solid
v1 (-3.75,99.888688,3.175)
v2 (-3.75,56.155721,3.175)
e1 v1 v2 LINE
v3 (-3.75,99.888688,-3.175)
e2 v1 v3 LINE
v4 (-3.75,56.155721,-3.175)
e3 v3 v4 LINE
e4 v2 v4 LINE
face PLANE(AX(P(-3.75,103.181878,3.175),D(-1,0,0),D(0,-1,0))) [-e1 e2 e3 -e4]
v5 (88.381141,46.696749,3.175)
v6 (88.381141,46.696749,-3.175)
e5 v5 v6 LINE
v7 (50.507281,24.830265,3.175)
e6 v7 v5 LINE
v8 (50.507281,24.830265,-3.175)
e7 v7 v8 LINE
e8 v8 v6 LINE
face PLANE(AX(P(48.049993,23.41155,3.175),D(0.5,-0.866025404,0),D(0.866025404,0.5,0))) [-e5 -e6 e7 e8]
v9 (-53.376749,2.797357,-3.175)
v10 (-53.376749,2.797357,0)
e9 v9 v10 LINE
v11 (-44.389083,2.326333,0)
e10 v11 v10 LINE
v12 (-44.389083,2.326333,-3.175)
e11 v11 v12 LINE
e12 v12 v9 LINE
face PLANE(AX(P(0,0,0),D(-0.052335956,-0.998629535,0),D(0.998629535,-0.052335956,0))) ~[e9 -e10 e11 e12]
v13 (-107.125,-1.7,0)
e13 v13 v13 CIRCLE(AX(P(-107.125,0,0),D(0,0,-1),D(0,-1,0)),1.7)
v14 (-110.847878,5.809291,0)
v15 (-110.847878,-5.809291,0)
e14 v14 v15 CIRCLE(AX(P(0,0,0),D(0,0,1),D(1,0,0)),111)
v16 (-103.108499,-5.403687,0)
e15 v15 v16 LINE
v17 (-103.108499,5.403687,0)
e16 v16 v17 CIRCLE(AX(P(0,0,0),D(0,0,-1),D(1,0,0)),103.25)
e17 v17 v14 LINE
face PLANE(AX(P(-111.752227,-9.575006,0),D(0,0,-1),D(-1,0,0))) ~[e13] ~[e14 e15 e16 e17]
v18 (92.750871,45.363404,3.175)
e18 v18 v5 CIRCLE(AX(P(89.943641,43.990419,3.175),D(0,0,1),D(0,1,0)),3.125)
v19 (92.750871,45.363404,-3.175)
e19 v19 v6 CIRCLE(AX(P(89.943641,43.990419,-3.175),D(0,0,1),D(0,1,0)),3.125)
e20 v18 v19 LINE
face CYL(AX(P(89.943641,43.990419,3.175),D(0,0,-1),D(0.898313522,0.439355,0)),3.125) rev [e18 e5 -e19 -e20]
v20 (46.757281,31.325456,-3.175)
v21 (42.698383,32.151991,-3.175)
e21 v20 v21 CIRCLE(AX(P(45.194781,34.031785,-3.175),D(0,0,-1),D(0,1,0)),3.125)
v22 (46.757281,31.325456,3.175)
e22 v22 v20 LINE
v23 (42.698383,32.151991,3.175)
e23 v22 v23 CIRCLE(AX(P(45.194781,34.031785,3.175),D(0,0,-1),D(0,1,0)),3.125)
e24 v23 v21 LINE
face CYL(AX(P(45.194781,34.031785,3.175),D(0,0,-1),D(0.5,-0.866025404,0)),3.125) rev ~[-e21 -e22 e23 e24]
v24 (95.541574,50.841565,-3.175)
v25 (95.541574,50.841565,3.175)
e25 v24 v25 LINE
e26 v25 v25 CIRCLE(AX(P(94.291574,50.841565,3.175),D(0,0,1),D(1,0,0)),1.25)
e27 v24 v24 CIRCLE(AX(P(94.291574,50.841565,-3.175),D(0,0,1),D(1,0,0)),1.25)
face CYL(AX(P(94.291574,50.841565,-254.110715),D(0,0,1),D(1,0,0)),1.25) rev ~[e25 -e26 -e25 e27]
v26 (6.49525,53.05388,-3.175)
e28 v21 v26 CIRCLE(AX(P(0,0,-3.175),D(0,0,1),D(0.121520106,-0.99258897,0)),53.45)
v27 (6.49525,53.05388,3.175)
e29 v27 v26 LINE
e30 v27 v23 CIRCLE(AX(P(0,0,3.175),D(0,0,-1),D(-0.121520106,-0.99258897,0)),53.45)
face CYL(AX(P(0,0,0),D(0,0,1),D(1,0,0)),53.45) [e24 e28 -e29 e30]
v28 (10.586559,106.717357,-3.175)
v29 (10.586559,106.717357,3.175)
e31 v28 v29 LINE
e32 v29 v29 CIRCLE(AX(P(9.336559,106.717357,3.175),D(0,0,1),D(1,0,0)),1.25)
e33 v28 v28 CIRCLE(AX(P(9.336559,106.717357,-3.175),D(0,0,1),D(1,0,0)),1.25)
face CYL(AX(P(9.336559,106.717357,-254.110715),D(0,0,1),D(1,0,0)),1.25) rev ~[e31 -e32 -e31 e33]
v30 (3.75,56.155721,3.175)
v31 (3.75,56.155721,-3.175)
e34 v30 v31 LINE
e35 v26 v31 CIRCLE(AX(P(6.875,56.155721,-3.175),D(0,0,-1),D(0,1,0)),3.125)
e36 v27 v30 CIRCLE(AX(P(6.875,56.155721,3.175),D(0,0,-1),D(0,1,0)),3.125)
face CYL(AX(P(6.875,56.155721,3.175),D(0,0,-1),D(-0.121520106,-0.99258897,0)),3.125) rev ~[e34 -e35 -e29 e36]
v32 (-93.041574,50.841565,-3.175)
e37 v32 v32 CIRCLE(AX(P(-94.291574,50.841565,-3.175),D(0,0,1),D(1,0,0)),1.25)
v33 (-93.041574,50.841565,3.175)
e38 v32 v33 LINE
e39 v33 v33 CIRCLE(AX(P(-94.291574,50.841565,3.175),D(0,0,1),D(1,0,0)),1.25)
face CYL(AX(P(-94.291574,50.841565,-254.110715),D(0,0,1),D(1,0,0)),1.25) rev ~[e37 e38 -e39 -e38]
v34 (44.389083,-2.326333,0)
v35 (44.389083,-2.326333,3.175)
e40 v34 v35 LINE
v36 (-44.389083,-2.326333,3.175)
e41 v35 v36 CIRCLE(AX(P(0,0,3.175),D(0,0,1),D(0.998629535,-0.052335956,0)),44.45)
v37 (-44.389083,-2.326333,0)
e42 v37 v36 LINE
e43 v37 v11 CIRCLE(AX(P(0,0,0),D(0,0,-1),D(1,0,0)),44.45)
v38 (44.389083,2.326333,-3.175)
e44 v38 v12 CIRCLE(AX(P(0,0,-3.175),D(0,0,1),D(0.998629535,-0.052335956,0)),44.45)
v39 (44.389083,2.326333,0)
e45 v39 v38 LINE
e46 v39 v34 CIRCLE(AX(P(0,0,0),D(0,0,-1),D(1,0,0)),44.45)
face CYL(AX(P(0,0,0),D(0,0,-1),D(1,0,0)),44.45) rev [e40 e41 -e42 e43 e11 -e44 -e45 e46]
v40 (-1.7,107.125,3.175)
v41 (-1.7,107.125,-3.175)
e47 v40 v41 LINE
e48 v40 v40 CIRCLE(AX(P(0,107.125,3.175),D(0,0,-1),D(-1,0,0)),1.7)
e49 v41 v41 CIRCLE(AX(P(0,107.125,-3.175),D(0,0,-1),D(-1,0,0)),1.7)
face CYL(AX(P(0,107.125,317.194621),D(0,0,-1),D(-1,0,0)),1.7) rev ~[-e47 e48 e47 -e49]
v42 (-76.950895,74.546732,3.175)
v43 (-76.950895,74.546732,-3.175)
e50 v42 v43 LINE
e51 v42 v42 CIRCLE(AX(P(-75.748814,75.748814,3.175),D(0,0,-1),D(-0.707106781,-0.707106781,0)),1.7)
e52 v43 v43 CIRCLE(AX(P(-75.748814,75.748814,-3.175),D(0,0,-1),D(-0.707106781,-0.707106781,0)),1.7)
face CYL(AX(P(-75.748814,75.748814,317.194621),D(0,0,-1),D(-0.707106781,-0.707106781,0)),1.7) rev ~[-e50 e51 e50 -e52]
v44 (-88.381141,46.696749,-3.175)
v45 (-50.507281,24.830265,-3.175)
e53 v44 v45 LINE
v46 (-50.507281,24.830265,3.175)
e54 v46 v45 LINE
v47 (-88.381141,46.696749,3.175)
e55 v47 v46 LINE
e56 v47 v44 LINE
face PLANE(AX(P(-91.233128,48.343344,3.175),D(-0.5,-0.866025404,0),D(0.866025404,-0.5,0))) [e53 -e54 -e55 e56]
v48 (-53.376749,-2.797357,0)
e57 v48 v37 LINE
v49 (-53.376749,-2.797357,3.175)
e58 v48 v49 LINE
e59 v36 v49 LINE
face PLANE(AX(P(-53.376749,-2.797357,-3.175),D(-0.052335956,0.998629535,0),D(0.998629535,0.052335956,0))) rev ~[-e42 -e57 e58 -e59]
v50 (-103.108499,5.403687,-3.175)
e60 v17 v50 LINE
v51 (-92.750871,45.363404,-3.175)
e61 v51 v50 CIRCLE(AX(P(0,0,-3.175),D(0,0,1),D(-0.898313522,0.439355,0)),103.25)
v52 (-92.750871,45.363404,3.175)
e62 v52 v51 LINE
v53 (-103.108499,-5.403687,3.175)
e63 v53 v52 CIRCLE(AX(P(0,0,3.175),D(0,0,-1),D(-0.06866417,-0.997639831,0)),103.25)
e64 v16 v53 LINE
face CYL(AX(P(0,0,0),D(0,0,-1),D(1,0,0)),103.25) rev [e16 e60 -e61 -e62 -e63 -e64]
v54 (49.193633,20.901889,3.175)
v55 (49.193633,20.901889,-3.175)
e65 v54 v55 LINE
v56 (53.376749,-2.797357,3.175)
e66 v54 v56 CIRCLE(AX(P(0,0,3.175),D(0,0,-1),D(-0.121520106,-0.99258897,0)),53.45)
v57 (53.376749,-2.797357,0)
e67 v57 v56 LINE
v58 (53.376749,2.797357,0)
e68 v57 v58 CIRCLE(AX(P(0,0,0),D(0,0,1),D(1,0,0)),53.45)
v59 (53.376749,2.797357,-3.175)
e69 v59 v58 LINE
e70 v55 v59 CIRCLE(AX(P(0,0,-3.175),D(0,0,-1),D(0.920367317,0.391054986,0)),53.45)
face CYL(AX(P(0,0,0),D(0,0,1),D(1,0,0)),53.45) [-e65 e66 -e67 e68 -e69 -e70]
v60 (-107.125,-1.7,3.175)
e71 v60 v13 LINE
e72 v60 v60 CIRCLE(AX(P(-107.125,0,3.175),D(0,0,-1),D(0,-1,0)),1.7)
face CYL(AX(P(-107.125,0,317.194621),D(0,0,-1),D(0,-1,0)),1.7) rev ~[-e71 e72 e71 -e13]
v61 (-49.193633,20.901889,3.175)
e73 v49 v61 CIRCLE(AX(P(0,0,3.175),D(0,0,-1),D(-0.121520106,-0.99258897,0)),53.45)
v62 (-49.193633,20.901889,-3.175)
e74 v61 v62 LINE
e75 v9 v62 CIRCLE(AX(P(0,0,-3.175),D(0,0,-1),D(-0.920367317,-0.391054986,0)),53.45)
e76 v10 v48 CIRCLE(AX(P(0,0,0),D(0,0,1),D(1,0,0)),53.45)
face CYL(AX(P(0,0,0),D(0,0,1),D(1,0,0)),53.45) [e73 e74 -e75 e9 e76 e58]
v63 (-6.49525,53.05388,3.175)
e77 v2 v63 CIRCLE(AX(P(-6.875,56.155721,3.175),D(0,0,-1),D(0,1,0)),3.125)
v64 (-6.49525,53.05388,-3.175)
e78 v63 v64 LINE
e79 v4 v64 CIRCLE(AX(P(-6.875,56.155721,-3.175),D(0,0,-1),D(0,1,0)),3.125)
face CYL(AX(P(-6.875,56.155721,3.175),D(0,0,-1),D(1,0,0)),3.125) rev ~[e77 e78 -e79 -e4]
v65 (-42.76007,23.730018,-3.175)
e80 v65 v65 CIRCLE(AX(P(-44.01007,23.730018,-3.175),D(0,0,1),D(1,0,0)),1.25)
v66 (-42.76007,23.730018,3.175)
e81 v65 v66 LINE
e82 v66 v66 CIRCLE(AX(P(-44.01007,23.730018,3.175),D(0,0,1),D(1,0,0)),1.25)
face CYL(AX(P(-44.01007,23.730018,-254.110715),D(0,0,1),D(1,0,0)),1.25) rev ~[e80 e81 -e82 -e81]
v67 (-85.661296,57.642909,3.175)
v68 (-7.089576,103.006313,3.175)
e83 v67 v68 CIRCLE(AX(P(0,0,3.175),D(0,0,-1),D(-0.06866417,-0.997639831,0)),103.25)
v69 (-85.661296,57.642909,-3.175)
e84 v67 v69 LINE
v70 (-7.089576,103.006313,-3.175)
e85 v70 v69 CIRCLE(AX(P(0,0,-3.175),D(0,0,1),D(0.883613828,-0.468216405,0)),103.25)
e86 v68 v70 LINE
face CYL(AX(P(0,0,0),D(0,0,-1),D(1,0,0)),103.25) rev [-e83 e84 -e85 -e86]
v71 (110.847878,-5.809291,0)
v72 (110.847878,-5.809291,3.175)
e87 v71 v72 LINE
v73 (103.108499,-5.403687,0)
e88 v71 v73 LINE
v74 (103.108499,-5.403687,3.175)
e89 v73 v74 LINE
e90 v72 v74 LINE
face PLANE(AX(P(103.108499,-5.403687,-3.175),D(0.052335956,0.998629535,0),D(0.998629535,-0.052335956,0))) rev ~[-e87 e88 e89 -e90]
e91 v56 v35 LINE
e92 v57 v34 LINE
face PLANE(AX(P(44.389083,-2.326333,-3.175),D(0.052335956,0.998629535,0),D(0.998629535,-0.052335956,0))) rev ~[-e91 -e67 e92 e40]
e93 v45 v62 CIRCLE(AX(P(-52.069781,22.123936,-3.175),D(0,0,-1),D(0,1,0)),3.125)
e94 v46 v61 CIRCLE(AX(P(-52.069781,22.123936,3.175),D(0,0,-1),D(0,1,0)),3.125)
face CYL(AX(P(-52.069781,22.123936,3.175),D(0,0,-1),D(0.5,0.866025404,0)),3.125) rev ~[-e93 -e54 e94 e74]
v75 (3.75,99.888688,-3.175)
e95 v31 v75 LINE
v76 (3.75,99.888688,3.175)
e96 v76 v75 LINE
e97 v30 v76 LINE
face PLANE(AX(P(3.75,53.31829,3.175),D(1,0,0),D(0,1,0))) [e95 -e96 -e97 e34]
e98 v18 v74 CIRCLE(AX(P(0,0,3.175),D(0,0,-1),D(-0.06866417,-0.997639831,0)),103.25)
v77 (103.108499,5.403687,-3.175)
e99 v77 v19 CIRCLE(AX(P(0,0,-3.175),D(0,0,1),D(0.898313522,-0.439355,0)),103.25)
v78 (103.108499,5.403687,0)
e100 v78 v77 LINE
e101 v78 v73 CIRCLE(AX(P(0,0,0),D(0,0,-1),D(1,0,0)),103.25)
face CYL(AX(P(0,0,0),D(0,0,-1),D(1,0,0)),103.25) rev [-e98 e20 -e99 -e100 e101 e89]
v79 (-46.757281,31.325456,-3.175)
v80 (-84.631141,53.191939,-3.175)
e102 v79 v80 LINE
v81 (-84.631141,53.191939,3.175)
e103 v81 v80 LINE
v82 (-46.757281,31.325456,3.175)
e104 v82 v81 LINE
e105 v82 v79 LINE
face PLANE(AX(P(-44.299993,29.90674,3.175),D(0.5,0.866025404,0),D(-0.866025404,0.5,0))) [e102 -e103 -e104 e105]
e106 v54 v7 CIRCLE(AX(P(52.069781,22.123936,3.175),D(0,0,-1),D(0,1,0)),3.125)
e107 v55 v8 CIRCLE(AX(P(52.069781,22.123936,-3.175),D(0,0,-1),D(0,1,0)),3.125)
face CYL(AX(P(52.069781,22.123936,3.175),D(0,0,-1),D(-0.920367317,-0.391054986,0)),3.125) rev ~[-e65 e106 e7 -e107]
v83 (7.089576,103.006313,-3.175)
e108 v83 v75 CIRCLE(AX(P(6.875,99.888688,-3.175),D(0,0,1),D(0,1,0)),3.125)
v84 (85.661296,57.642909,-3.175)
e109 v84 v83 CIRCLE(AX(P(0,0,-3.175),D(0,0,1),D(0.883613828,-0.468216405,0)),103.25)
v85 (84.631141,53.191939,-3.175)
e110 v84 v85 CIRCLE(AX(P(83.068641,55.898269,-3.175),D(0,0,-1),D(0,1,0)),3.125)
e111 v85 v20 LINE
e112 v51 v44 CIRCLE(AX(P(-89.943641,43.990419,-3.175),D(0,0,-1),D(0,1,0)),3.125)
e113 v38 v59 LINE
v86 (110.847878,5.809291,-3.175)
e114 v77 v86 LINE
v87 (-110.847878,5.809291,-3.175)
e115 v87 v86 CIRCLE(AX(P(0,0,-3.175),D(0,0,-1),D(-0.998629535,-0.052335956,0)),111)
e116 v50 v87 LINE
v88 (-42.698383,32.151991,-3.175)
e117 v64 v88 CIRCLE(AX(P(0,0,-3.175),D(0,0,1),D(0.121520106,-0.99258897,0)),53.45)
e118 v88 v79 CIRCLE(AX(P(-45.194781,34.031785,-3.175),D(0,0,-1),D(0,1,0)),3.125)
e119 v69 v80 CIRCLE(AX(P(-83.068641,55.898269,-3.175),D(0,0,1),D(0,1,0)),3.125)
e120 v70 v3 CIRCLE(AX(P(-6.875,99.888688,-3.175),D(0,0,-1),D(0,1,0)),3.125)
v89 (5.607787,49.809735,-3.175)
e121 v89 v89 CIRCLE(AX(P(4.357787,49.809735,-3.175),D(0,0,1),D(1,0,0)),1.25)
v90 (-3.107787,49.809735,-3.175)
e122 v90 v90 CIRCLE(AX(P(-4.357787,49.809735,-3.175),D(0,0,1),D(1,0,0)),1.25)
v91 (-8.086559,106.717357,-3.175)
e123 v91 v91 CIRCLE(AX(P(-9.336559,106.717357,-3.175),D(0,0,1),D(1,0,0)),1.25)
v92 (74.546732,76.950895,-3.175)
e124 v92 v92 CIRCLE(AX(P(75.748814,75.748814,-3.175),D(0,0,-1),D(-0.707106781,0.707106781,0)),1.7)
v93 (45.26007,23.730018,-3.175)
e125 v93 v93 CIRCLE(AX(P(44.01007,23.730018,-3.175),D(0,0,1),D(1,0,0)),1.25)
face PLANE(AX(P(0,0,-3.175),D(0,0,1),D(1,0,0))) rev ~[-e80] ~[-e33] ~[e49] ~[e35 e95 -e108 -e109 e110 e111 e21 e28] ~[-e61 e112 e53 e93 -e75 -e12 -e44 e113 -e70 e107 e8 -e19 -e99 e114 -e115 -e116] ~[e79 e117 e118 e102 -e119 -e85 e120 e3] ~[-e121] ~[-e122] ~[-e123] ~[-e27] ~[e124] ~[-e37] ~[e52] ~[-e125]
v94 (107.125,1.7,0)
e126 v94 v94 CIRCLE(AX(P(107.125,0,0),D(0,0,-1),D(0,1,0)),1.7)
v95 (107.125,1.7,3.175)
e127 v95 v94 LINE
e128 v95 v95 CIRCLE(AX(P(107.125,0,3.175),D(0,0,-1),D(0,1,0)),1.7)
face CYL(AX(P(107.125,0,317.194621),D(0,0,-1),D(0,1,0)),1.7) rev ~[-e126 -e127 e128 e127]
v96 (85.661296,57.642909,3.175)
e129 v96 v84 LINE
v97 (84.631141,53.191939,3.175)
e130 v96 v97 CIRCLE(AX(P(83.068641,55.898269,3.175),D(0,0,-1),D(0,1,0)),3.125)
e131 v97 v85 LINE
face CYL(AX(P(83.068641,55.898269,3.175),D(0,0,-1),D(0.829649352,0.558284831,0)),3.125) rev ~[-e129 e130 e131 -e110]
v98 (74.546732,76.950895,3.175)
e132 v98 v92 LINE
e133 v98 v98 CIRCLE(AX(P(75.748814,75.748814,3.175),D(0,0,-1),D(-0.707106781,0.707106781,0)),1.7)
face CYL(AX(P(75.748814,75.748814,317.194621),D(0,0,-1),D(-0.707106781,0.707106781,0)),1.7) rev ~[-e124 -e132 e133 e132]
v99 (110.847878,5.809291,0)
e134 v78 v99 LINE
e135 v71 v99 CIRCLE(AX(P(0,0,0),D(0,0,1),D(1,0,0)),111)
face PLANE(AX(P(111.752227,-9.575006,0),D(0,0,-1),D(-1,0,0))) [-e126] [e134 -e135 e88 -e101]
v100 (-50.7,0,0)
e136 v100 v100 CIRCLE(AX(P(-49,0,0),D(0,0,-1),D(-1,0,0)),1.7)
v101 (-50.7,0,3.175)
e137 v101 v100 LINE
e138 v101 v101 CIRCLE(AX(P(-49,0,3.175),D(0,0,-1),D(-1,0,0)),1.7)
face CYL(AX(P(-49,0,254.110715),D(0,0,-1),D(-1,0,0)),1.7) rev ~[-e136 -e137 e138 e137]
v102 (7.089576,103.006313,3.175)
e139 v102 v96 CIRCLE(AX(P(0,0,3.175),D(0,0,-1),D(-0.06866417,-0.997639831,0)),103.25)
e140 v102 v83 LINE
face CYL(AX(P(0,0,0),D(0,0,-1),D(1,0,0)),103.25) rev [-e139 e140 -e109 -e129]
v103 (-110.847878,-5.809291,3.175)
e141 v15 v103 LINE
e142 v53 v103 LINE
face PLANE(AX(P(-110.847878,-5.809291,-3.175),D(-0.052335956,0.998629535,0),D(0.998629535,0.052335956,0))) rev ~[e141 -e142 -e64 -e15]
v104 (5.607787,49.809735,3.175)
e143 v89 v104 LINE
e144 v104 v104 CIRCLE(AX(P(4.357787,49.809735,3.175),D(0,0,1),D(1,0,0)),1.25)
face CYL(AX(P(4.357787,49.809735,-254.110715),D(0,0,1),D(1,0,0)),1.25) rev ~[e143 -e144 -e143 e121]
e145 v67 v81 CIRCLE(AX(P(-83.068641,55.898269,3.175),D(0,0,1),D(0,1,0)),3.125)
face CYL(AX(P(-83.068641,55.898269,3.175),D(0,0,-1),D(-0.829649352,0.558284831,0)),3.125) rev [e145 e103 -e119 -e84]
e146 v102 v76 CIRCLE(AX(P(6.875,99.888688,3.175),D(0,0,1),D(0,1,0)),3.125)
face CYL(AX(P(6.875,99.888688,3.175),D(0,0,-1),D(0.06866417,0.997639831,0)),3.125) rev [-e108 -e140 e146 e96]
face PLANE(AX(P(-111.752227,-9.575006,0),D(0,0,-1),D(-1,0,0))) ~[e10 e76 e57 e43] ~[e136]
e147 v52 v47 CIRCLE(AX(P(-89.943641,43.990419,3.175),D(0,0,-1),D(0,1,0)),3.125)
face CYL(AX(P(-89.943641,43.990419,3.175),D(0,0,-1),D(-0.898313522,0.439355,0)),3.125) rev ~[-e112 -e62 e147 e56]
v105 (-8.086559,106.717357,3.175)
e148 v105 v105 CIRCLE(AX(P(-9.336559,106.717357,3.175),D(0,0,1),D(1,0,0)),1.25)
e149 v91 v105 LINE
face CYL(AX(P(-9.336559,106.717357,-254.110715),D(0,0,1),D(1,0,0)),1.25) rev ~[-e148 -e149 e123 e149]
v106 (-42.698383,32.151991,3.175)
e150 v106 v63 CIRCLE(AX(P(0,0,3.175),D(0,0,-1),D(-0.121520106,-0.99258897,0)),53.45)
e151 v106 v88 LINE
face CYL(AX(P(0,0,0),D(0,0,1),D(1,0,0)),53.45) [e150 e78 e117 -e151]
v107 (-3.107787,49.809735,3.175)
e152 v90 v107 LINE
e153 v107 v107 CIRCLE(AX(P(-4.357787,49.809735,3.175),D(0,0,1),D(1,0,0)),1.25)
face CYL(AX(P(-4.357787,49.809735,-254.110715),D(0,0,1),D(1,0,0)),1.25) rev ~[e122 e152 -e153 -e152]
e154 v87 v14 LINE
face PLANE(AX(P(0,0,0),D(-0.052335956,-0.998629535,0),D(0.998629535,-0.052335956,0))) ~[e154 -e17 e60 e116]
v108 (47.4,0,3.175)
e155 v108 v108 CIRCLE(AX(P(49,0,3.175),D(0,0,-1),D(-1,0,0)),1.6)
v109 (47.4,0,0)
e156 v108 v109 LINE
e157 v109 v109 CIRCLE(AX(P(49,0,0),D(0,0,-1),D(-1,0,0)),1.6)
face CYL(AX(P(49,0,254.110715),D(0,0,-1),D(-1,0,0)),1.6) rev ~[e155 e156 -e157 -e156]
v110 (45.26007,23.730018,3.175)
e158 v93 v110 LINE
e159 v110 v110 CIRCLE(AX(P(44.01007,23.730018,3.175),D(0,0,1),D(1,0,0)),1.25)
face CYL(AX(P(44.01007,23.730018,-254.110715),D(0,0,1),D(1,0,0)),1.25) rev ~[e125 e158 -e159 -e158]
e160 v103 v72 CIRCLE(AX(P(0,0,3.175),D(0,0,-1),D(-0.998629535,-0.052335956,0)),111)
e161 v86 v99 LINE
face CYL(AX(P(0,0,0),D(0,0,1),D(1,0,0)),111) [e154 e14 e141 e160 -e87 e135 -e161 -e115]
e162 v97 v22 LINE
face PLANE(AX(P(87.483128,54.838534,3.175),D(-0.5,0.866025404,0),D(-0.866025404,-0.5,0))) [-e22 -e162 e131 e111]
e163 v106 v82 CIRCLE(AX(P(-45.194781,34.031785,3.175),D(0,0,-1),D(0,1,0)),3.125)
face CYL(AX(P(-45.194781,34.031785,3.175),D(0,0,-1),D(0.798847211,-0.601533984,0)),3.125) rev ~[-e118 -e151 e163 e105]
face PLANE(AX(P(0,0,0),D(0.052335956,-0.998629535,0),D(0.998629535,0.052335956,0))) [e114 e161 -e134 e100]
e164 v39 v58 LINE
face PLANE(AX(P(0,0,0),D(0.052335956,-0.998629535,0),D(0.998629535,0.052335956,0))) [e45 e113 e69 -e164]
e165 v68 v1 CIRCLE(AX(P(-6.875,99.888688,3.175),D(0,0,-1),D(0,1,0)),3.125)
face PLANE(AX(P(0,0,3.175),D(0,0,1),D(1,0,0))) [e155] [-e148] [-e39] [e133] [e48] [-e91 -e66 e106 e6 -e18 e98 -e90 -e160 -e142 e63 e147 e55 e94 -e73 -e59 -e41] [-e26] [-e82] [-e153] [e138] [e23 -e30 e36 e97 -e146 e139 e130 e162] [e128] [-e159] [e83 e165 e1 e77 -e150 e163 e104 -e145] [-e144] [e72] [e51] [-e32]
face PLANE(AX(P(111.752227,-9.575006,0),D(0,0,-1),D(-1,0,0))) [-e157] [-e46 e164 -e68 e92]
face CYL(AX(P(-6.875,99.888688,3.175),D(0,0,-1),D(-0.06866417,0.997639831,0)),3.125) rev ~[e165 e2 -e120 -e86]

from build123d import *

# Parameters (mm, degrees)
SKETCH1_R                = 111
SKETCH1_R_2              = 103.25
BOSS_EXTRUDE1_DEPTH      = 3.175
SKETCH1_R_3              = 53.45
SKETCH1_R_4              = 44.45
BOSS_EXTRUDE1_2_DEPTH    = 3.175
BOSS_EXTRUDE2_DEPTH      = 6.35
FILLET1_R                = 3.125
CIRPATTERN2_COUNT        = 6
FILLET1_OF_CIRPATTERN2_R = 3.125
M3_CLEARANCE_HOLE1_D     = 3.4
CIRPATTERN3_COUNT        = 8
SKETCH5_R                = 1.7
CUT_EXTRUDE1_DEPTH       = 1
CUT_EXTRUDE1_DEPTH_BACK  = 7.35
CUT_EXTRUDE6_DEPTH       = 4
M3_CLEARANCE_HOLE2_D     = 3.4
M3_CLEARANCE_HOLE3_D     = 3.2
M3X0_5_TAPPED_HOLE1_D    = 2.5


with BuildPart() as part:
    # Sketch1 → Boss-Extrude1 (new body, symmetric)
    with BuildSketch(Plane.XY):
        Circle(SKETCH1_R)
        Circle(SKETCH1_R_2, mode=Mode.SUBTRACT)
    extrude(amount=BOSS_EXTRUDE1_DEPTH, both=True)



with BuildPart() as body_2:
    # Sketch1 → Boss-Extrude1 2 (new body, symmetric)
    with BuildSketch(Plane.XY):
        Circle(SKETCH1_R_3)
        Circle(SKETCH1_R_4, mode=Mode.SUBTRACT)
    extrude(amount=BOSS_EXTRUDE1_2_DEPTH, both=True)


with BuildPart() as part_1:
    add(part.part)

    add(body_2.part)  # Boss-Extrude2 merges body 2
    # Sketch2 → Boss-Extrude2 (add, through all)
    with BuildSketch(Plane.XY.offset(3.175)):
        with BuildLine():
            Line((3.75, -103.181878254), (3.75, -53.318289545))
            ThreePointArc((3.75, -53.318289545), (0, -53.45), (-3.75, -53.318289545))
            Line((-3.75, -53.318289545), (-3.75, -103.181878254))
            ThreePointArc((-3.75, -103.181878254), (0, -103.25), (3.75, -103.181878254))
        make_face()
    boss_extrude2 = extrude(amount=-BOSS_EXTRUDE2_DEPTH)

    # Fillet1
    fillet1_edges = [part_1.edges().sort_by_distance(p)[0] for p in [
        (-3.75, -53.318289545, 0),
        (3.75, -53.318289545, 0),
        (3.75, -103.181878254, 0),
        (-3.75, -103.181878254, 0),
    ]]
    fillet(fillet1_edges, radius=FILLET1_R)

    # CirPattern2: Boss-Extrude2 ×6 about axis
    cirpattern2_axis = Axis((0, 0, 0), (0, 0, 1))
    for i in range(1, CIRPATTERN2_COUNT):
        add(boss_extrude2.rotate(cirpattern2_axis, i * 360 / CIRPATTERN2_COUNT))

    # Fillet1 of CirPattern2
    fillet1_of_cirpattern2_edges = [part_1.edges().sort_by_distance(p)[0] for p in [
        (44.299993232, -29.906740037, 0),
        (48.049993232, -23.411549508, 0),
        (91.233127778, -48.343343863, 0),
        (87.483127778, -54.838534391, 0),
        (48.049993232, 23.411549508, 0),
        (44.299993232, 29.906740037, 0),
        (87.483127778, 54.838534391, 0),
        (91.233127778, 48.343343863, 0),
        (3.75, 53.318289545, 0),
        (-3.75, 53.318289545, 0),
        (-3.75, 103.181878254, 0),
        (3.75, 103.181878254, 0),
        (-44.299993232, 29.906740037, 0),
        (-48.049993232, 23.411549508, 0),
        (-91.233127778, 48.343343863, 0),
        (-87.483127778, 54.838534391, 0),
        (-48.049993232, -23.411549508, 0),
        (-44.299993232, -29.906740037, 0),
        (-87.483127778, -54.838534391, 0),
        (-91.233127778, -48.343343863, 0),
    ]]
    fillet(fillet1_of_cirpattern2_edges, radius=FILLET1_OF_CIRPATTERN2_R)

    # M3 Clearance Hole1 (through all)
    with Locations(Plane.XY.offset(3.175)):
        with Locations((0, 107.125)):
            m3_clearance_hole1 = Hole(M3_CLEARANCE_HOLE1_D / 2)

    # CirPattern3: M3 Clearance Hole1 ×8 about axis
    cirpattern3_axis = Axis((0, 0, 0), (0, 0, 1))
    for i in range(1, CIRPATTERN3_COUNT):
        add(m3_clearance_hole1.rotate(cirpattern3_axis, i * 360 / CIRPATTERN3_COUNT), mode=Mode.SUBTRACT)

    # Sketch5 → Cut-Extrude1 (cut, two sides)
    with BuildSketch(Plane(origin=(0, 0, -3.175), x_dir=(-1, 0, 0), z_dir=(0, 0, -1))) as cut_extrude1_sk:
        with BuildLine():
            Line((53.376748633, -2.797356861), (44.38908282, -2.326333255))
            ThreePointArc((44.38908282, -2.326333255), (0, -44.45), (-44.38908282, -2.326333255))
            Line((-44.38908282, -2.326333255), (-53.376748633, -2.797356861))
            ThreePointArc((-53.376748633, -2.797356861), (-52.077963884, -12.032795921), (-49.193633081, -20.901889013))
            ThreePointArc((-49.193633081, -20.901889013), (-49.106095125, -23.114991521), (-50.507280946, -24.830265231))
            Line((-50.507280946, -24.830265231), (-88.3811414, -46.69674876))
            ThreePointArc((-88.3811414, -46.69674876), (-90.855666768, -46.979371485), (-92.750871157, -45.363403748))
            ThreePointArc((-92.750871157, -45.363403748), (-99.947075975, -25.906456802), (-103.108499463, -5.403687482))
            Line((-103.108499463, -5.403687482), (-110.847878358, -5.809291143))
            ThreePointArc((-110.847878358, -5.809291143), (0, -111), (110.847878358, -5.809291143))
            Line((110.847878358, -5.809291143), (103.108499463, -5.403687482))
            ThreePointArc((103.108499463, -5.403687482), (99.947075975, -25.906456802), (92.750871157, -45.363403748))
            ThreePointArc((92.750871157, -45.363403748), (90.855666768, -46.979371485), (88.3811414, -46.69674876))
            Line((88.3811414, -46.69674876), (50.507280946, -24.830265231))
            ThreePointArc((50.507280946, -24.830265231), (49.106095125, -23.114991521), (49.193633081, -20.901889013))
            ThreePointArc((49.193633081, -20.901889013), (52.077963884, -12.032795921), (53.376748633, -2.797356861))
        make_face()
        with Locations((-75.748813935, -75.748813935)):
            Circle(SKETCH5_R, mode=Mode.SUBTRACT)
        with Locations((0, -107.125)):
            Circle(SKETCH5_R, mode=Mode.SUBTRACT)
        with BuildLine():
            ThreePointArc((-46.757280946, -31.32545576), (-44.571217428, -30.969630098), (-42.698383412, -32.151991446))
            ThreePointArc((-42.698383412, -32.151991446), (-26.725, -46.289057832), (-6.495249669, -53.053880459))
            ThreePointArc((-6.495249669, -53.053880459), (-4.534877697, -54.084621619), (-3.75, -56.155720991))
            Line((-3.75, -56.155720991), (-3.75, -99.888688048))
            ThreePointArc((-3.75, -99.888688048), (-4.742504224, -102.173001242), (-7.089575531, -103.006312519))
            ThreePointArc((-7.089575531, -103.006312519), (-51.625, -89.417122941), (-85.661295626, -57.642908771))
            ThreePointArc((-85.661295626, -57.642908771), (-86.113162544, -55.193629757), (-84.6311414, -53.191939288))
            Line((-84.6311414, -53.191939288), (-46.757280946, -31.32545576))
        make_face(mode=Mode.SUBTRACT)
        with BuildLine():
            ThreePointArc((84.6311414, -53.191939288), (86.113162544, -55.193629757), (85.661295626, -57.642908771))
            ThreePointArc((85.661295626, -57.642908771), (51.625, -89.417122941), (7.089575531, -103.006312519))
            ThreePointArc((7.089575531, -103.006312519), (4.742504224, -102.173001242), (3.75, -99.888688048))
            Line((3.75, -99.888688048), (3.75, -56.155720991))
            ThreePointArc((3.75, -56.155720991), (4.534877697, -54.084621619), (6.495249669, -53.053880459))
            ThreePointArc((6.495249669, -53.053880459), (26.725, -46.289057832), (42.698383412, -32.151991446))
            ThreePointArc((42.698383412, -32.151991446), (44.571217428, -30.969630098), (46.757280946, -31.32545576))
            Line((46.757280946, -31.32545576), (84.6311414, -53.191939288))
        make_face(mode=Mode.SUBTRACT)
        with Locations((75.748813935, -75.748813935)):
            Circle(SKETCH5_R, mode=Mode.SUBTRACT)
    extrude(amount=CUT_EXTRUDE1_DEPTH, mode=Mode.SUBTRACT)
    extrude(cut_extrude1_sk.sketch, amount=-CUT_EXTRUDE1_DEPTH_BACK, mode=Mode.SUBTRACT)

    # Sketch6 → Cut-Extrude6 (cut)
    with BuildSketch(Plane.XY):
        Polygon((0, 0), (199.725906951, 10.467191249), (199.725906951, -44.207372647), align=None)
    cut_extrude6 = extrude(amount=-CUT_EXTRUDE6_DEPTH, mode=Mode.SUBTRACT)

    # Mirror1: Cut-Extrude6 across plane
    add(cut_extrude6.mirror(Plane(origin=(0, 0, 0), x_dir=(0, 0, 1), z_dir=(1, 0, 0))), mode=Mode.SUBTRACT)

    # M3 Clearance Hole2 (through all)
    with Locations(Plane.XY.offset(3.175)):
        with Locations((-49, 0)):
            Hole(M3_CLEARANCE_HOLE2_D / 2)

    # M3 Clearance Hole3 (through all)
    with Locations(Plane.XY.offset(3.175)):
        with Locations((49, 0)):
            Hole(M3_CLEARANCE_HOLE3_D / 2)

    # M3x0.5 Tapped Hole1 (through all)
    with Locations(Plane(origin=(0, 0, -3.175), x_dir=(-1, 0, 0), z_dir=(0, 0, -1))):
        with Locations((-9.336558942, 106.717357033), (-94.29157403, 50.841564609), (-44.010069559, 23.730018487), (-4.357787137, 49.809734905), (4.357787137, 49.809734905), (44.010069559, 23.730018487), (94.29157403, 50.841564609), (9.336558942, 106.717357033)):
            Hole(M3X0_5_TAPPED_HOLE1_D / 2)


solid = part_1.part
